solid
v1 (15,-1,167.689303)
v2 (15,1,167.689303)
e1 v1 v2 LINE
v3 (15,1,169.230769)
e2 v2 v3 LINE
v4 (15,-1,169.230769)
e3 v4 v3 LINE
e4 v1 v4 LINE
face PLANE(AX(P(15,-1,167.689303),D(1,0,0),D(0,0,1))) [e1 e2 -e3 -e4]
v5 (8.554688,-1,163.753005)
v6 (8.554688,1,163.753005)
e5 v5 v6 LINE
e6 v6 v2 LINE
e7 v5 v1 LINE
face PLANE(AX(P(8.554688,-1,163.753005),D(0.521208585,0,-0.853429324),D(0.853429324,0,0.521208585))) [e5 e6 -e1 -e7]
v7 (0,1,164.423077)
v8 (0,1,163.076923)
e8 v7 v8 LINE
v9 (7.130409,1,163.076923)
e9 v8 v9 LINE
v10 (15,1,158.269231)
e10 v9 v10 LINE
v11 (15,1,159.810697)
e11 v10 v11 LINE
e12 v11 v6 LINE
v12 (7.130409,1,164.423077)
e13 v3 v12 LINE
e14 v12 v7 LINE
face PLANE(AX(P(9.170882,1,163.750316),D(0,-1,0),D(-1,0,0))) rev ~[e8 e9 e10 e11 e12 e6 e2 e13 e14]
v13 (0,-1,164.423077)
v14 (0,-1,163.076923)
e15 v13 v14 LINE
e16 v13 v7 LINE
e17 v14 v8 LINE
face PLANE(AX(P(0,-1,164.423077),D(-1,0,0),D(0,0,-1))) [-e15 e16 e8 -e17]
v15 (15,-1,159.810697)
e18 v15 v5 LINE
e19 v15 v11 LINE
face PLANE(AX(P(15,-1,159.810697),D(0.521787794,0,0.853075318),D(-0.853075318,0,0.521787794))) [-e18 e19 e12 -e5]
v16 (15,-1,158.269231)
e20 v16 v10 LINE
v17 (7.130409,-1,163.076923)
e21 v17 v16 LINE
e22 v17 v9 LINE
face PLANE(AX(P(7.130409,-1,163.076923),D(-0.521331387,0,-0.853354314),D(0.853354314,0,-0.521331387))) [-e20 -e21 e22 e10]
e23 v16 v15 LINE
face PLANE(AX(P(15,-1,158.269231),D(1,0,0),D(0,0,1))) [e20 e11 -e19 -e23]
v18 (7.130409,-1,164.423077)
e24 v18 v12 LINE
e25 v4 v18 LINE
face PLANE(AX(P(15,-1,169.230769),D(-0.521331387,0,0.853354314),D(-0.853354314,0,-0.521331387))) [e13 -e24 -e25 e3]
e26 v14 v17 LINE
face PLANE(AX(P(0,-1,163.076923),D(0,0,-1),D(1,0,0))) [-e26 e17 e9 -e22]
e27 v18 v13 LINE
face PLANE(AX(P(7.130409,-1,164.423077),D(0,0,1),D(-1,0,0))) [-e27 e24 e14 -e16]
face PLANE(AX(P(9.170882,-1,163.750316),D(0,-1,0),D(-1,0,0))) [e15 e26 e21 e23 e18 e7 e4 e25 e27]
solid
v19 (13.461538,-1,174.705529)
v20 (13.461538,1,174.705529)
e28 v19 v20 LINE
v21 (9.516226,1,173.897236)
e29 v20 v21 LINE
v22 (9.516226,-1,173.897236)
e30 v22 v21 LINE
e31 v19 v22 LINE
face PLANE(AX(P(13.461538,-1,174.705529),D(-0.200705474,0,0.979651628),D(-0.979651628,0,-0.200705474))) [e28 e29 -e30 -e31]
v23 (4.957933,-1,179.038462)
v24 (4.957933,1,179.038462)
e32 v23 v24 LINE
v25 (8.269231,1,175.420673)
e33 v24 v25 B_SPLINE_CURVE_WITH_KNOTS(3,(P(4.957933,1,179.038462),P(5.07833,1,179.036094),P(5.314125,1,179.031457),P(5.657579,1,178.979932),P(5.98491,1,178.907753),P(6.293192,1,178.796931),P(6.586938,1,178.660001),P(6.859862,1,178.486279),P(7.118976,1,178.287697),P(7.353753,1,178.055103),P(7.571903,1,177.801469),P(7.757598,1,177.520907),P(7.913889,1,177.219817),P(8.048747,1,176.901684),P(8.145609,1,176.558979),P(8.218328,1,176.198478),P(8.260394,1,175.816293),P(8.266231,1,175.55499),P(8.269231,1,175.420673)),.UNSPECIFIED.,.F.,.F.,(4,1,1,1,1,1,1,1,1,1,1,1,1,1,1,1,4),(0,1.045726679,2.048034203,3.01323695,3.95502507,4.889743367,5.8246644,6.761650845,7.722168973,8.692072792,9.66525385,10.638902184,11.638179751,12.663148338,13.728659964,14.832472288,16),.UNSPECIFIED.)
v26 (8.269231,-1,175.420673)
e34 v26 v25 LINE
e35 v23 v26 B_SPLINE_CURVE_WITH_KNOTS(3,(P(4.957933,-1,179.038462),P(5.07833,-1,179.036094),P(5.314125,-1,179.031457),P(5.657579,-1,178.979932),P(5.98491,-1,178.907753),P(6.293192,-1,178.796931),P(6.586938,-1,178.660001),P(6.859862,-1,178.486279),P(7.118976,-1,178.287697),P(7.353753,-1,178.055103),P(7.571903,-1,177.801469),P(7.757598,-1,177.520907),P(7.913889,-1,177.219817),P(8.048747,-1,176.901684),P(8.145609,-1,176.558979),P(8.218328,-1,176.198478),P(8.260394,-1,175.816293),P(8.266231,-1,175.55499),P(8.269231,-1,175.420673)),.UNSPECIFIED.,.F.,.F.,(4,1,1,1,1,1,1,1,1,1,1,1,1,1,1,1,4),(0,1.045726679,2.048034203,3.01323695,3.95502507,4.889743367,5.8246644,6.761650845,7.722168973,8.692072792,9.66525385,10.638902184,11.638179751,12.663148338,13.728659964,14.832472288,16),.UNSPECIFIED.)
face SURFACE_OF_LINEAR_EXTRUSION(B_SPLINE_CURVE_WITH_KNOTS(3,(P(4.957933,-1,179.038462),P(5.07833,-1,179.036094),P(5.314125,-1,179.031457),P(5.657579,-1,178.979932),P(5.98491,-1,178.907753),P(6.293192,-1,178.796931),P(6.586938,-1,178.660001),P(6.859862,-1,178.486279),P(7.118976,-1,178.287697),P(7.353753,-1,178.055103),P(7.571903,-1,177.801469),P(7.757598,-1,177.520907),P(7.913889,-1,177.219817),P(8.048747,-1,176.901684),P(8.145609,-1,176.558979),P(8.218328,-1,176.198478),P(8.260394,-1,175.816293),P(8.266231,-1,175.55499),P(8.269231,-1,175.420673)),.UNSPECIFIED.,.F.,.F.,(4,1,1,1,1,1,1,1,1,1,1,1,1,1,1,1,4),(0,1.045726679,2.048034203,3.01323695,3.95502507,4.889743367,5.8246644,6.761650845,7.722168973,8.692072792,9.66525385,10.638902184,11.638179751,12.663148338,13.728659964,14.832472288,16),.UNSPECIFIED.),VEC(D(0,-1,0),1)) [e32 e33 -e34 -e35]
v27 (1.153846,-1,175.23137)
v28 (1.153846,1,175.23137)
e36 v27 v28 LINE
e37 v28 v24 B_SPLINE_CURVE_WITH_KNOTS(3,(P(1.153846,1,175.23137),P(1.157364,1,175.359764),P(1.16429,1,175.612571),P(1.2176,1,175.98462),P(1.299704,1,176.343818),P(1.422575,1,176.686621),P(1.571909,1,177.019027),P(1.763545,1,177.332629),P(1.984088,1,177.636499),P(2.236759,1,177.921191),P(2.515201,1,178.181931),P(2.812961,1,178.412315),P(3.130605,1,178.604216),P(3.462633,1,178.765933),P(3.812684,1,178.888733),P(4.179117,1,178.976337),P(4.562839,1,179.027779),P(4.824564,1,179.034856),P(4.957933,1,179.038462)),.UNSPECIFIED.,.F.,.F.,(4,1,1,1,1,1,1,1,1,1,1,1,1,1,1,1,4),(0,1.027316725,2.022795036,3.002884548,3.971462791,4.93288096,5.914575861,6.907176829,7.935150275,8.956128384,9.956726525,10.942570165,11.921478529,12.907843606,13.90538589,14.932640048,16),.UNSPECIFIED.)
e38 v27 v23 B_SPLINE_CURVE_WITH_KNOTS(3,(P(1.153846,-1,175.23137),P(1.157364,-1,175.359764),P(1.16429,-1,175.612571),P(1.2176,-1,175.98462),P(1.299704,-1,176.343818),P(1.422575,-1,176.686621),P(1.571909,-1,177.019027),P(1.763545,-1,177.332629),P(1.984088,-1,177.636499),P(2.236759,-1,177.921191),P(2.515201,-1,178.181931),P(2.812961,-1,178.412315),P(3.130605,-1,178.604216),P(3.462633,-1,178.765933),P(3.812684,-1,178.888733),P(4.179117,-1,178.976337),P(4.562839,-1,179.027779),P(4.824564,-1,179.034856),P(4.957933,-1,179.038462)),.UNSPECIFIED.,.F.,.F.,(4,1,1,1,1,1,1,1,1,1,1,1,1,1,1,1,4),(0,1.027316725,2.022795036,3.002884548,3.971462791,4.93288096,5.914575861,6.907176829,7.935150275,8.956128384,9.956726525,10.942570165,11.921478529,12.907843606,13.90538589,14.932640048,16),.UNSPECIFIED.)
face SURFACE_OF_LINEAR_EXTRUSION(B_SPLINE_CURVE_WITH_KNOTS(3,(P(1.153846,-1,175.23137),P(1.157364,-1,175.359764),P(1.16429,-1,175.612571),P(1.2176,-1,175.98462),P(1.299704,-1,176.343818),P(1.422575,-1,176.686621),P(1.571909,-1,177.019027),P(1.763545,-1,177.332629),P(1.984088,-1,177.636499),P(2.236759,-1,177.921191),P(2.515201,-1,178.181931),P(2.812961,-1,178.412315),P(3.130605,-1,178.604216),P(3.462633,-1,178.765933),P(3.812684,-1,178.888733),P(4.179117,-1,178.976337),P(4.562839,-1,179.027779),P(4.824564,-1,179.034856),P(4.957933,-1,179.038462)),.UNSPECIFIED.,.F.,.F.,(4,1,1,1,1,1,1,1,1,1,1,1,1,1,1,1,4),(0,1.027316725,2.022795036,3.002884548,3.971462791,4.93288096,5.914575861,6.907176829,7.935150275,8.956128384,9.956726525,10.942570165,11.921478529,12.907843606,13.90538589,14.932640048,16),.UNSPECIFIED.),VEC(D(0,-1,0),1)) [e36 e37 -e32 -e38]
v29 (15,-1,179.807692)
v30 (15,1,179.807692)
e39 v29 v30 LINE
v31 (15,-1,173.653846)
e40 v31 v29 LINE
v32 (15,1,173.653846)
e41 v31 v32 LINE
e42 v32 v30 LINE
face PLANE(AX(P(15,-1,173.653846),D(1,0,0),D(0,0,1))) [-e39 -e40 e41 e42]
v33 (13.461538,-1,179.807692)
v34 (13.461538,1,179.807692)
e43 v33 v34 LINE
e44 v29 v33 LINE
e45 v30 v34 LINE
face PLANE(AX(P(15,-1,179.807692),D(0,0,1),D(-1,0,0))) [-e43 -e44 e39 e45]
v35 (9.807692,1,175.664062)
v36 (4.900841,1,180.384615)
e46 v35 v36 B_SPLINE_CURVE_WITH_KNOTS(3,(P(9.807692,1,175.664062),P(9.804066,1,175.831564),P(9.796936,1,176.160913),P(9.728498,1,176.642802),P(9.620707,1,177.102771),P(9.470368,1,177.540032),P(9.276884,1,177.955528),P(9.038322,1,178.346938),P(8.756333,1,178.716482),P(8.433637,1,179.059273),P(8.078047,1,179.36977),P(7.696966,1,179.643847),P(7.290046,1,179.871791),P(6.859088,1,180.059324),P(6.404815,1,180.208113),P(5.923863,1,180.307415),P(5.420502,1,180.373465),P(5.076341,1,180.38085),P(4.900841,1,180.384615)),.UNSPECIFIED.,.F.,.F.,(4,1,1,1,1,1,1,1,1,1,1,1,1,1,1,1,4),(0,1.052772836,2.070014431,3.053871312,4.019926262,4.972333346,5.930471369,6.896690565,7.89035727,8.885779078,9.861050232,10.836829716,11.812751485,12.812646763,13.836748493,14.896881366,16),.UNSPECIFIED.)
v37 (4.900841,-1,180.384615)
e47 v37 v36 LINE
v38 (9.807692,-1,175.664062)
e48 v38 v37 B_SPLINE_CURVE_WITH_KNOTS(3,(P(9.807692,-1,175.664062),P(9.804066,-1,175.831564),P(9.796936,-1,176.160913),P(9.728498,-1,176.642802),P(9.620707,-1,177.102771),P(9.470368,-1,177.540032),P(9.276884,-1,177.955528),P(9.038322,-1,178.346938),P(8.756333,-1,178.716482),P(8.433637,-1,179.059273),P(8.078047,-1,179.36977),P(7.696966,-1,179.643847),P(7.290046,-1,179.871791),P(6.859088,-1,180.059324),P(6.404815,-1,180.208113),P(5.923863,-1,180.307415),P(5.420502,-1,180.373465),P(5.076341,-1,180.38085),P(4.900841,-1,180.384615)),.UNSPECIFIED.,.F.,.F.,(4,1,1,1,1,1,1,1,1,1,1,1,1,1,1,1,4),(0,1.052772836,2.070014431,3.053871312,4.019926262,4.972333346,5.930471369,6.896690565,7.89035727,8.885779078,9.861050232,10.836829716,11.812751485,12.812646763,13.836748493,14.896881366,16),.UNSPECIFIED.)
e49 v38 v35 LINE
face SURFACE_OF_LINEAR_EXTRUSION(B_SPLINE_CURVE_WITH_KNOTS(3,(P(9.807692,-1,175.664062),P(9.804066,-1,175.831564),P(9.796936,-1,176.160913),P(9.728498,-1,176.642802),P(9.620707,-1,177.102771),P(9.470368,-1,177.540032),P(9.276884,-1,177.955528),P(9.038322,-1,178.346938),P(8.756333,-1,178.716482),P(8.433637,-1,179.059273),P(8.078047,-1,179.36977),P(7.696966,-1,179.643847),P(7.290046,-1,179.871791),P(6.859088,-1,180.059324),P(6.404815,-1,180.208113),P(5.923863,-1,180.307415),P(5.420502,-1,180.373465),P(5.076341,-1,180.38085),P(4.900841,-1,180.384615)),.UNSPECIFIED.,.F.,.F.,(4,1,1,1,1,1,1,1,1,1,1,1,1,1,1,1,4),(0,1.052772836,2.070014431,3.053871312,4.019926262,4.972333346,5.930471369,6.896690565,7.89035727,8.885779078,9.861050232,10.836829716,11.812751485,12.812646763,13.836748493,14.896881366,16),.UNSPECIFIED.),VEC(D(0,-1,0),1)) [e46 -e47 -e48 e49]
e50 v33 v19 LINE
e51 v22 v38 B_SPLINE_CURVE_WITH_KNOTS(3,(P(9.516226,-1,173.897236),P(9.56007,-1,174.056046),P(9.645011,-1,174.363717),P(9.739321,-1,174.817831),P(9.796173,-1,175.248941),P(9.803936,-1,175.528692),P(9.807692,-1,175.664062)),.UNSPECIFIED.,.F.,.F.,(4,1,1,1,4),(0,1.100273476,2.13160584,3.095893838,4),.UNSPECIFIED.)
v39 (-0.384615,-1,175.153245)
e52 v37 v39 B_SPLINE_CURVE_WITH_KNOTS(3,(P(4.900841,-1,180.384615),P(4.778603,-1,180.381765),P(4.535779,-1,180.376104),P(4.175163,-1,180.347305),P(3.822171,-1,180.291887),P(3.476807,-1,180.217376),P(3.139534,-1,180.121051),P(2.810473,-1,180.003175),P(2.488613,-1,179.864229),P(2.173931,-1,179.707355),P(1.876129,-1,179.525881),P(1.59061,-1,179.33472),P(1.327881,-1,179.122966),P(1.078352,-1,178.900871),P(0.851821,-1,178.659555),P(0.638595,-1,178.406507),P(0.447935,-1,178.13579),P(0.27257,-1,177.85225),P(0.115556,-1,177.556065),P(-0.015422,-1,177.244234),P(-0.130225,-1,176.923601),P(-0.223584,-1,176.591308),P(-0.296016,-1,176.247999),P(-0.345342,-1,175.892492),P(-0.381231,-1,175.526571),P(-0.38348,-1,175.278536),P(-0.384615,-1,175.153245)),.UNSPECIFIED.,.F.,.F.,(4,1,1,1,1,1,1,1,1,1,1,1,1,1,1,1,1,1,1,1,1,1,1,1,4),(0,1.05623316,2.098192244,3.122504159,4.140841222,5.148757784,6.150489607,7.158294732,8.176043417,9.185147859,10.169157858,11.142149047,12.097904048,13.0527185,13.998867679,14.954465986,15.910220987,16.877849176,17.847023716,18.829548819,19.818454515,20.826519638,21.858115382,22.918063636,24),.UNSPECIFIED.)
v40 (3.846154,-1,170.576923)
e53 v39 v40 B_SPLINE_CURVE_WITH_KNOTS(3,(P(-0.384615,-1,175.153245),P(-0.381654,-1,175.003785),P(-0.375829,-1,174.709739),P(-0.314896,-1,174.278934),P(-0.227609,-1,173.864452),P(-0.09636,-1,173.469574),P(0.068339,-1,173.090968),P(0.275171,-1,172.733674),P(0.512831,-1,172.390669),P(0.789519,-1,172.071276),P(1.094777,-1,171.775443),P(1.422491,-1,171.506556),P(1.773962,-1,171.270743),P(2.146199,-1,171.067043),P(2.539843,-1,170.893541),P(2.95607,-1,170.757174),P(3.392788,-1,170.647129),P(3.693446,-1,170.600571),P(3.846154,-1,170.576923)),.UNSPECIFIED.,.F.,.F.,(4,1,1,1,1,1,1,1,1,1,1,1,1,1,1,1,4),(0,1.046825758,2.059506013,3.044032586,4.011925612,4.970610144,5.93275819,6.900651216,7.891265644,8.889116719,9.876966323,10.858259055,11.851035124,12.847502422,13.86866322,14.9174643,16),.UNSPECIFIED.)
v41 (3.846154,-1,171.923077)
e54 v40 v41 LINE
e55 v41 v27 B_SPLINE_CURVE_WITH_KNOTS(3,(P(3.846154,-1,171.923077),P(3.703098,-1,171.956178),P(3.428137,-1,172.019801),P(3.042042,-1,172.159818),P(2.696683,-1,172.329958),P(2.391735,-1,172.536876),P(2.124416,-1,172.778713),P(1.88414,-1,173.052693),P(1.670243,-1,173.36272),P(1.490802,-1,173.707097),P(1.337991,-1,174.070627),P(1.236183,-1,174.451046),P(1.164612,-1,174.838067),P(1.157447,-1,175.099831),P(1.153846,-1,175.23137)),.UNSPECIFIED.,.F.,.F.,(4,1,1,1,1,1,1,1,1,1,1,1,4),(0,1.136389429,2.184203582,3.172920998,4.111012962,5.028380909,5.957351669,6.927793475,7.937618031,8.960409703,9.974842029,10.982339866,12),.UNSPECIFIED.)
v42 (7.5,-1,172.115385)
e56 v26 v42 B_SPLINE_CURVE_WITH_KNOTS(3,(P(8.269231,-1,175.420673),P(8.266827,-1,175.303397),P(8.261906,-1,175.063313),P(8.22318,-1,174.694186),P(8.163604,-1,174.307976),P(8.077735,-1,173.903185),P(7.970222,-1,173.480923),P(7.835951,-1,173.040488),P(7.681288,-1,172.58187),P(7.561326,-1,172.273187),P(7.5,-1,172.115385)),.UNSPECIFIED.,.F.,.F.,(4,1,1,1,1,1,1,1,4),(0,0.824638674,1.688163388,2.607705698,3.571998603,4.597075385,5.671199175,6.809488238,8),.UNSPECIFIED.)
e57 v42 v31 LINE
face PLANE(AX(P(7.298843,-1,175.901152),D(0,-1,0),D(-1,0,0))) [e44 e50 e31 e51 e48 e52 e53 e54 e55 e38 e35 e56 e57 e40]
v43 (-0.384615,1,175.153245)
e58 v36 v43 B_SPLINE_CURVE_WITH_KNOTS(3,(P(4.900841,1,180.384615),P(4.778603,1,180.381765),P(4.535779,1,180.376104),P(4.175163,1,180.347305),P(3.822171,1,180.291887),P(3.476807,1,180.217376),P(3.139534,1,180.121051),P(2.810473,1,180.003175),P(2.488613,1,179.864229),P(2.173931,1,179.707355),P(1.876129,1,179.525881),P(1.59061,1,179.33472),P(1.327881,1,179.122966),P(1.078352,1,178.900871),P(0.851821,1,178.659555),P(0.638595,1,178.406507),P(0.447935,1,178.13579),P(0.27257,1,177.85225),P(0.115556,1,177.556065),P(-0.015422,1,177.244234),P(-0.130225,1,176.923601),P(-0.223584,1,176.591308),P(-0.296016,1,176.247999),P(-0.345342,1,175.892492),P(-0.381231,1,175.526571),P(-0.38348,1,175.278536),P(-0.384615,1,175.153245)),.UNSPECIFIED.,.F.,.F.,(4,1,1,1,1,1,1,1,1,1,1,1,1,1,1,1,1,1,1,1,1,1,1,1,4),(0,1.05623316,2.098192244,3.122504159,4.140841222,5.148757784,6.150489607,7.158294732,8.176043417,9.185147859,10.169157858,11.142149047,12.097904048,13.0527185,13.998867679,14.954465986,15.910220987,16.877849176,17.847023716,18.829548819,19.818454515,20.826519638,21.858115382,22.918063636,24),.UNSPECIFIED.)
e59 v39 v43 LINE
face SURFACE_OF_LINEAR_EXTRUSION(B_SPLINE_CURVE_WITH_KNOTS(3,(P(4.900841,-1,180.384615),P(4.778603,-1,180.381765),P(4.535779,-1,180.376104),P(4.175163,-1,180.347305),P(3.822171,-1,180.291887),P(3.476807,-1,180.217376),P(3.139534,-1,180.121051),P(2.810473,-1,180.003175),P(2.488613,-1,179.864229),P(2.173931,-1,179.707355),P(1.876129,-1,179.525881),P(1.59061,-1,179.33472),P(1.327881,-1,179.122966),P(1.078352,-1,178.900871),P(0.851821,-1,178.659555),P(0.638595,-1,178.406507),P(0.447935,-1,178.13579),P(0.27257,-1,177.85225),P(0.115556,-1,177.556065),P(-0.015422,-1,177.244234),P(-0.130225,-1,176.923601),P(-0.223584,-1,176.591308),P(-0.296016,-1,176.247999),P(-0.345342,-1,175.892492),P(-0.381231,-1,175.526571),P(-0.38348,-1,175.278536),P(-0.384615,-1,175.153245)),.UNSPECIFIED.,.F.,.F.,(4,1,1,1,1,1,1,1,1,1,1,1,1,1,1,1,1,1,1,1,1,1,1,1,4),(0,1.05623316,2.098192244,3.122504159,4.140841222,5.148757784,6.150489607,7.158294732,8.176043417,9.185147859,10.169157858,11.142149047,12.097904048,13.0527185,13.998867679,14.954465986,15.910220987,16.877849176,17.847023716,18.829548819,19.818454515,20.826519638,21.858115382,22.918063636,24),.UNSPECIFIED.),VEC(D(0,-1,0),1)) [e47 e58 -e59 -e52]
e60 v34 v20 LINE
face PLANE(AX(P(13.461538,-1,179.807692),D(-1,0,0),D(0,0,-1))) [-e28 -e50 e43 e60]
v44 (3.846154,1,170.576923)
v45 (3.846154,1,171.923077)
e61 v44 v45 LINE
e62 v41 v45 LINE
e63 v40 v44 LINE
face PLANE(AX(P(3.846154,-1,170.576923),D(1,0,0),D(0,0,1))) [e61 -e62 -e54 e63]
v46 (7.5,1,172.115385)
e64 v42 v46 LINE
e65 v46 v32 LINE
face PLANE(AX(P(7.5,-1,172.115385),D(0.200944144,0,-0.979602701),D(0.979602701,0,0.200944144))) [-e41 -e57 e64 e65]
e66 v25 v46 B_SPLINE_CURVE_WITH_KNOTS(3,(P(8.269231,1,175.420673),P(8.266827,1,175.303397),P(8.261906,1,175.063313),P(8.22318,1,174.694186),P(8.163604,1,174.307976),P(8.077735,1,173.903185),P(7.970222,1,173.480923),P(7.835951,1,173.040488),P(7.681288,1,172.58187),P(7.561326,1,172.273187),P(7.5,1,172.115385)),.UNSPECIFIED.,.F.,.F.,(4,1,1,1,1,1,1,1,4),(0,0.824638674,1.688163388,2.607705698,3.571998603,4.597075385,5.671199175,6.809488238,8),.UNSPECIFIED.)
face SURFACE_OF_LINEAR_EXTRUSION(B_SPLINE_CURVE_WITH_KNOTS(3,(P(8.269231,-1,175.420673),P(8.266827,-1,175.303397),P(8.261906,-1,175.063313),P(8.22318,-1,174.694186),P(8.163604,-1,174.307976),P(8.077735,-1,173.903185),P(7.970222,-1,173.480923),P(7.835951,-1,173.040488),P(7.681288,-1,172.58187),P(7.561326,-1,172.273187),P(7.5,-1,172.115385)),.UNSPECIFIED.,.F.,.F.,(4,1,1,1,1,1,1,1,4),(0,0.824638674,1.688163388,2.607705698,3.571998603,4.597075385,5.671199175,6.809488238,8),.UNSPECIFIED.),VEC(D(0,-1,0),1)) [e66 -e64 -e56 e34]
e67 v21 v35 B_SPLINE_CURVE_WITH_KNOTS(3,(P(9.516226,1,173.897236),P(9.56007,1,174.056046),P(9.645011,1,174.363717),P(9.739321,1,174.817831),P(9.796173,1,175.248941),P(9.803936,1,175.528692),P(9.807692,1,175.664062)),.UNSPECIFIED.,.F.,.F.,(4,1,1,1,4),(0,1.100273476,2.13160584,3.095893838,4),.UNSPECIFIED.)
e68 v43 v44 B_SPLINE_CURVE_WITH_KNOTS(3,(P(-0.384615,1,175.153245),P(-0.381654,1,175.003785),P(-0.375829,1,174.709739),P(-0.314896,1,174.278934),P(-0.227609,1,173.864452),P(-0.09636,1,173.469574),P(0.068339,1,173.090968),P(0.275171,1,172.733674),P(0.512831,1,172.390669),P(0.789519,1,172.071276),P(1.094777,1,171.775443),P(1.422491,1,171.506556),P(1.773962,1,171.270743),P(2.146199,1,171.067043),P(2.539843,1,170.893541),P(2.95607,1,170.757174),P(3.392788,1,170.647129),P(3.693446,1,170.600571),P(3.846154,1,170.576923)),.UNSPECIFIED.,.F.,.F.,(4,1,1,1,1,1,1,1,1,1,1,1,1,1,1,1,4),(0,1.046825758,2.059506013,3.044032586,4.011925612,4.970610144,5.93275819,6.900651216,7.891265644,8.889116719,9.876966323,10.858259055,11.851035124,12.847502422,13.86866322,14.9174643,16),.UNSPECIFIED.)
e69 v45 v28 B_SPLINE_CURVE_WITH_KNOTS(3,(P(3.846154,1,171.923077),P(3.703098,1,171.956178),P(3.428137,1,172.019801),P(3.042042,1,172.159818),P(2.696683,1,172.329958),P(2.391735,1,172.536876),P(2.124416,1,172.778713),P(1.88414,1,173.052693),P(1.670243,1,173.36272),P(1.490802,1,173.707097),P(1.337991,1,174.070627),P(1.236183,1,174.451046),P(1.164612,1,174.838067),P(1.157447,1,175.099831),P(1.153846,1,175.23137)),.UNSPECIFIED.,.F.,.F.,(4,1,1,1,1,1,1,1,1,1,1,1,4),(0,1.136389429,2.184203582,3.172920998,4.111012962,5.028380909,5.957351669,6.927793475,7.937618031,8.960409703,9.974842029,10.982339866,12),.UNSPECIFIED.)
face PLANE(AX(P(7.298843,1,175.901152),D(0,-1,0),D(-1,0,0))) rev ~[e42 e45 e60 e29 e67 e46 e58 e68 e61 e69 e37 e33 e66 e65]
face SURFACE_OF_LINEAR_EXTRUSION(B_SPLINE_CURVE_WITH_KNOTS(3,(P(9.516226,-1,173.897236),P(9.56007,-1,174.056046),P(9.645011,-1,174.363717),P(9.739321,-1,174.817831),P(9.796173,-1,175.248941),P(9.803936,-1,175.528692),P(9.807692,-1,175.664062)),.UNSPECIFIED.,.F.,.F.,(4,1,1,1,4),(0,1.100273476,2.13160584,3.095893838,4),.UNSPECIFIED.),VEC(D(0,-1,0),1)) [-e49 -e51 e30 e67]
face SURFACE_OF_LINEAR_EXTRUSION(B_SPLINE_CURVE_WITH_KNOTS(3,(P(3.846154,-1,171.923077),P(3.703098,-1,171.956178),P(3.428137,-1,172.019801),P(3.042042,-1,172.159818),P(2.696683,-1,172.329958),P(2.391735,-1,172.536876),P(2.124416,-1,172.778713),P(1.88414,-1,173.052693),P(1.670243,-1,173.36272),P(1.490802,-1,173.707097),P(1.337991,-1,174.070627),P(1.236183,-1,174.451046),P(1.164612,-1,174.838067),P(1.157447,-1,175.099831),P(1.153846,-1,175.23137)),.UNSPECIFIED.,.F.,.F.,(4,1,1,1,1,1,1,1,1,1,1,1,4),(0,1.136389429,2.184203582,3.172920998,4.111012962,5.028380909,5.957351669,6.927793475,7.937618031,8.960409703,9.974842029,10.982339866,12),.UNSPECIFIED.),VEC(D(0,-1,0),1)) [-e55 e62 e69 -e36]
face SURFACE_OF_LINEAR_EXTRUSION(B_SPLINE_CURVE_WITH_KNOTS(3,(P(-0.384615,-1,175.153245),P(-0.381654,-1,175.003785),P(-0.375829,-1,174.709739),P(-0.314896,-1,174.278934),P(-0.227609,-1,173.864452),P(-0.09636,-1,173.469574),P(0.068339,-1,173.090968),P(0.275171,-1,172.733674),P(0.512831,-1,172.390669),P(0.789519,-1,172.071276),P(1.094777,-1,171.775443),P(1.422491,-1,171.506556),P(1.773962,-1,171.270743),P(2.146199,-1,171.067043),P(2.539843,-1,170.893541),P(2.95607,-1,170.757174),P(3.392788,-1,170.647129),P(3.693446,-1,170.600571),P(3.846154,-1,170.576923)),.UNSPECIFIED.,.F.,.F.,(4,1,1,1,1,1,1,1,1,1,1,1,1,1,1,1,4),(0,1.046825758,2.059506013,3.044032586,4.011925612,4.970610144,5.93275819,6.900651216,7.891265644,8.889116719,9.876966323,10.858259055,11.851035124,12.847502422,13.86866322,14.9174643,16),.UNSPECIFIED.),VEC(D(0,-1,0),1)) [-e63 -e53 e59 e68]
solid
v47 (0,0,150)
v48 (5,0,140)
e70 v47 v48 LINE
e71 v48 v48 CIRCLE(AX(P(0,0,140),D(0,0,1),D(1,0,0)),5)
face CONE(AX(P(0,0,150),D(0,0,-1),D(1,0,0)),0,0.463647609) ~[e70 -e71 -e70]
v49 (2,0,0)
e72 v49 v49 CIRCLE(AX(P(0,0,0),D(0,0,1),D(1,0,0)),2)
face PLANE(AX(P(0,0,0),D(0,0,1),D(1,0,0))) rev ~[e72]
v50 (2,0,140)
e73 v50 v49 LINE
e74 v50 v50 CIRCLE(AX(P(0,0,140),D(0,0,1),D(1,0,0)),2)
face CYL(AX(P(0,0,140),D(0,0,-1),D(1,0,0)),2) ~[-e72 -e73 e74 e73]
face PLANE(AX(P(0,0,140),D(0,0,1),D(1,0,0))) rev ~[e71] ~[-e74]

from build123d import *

# Parameters (mm, degrees)
BOSS_EXTRUDE1_DEPTH        = 1
BOSS_EXTRUDE1_DEPTH_BACK   = 1
BOSS_EXTRUDE1_2_DEPTH      = 1
BOSS_EXTRUDE1_2_DEPTH_BACK = 1


with BuildPart() as part:
    # Sketch2 → Revolve1 (revolve)
    with BuildSketch(Plane(origin=(0, 0, 0), x_dir=(1, 0, 0), z_dir=(0, 1, 0))):
        Polygon((0, -150), (5, -140), (2, -140), (2, 0), (0, 0), align=None)
    revolve(axis=Axis((0, 0, -41.949952025), (0, 0, 1)))


with BuildPart() as body_2:
    # Sketch3 → Boss-Extrude1 (new, two sides: drawn at the far end of the back side and taken through both)
    with BuildSketch(Plane(origin=(0, 0, 0), x_dir=(1, 0, 0), z_dir=(0, 1, 0)).offset(-BOSS_EXTRUDE1_DEPTH_BACK)):
        Polygon((15, -158.269230769), (15, -159.810697115), (8.5546875, -163.753004808), (15, -167.689302885), (15, -169.230769231), (7.130408654, -164.423076923), (0, -164.423076923), (0, -163.076923077), (7.130408654, -163.076923077), align=None)
    extrude(amount=BOSS_EXTRUDE1_DEPTH + BOSS_EXTRUDE1_DEPTH_BACK)


with BuildPart() as body_3:
    # Sketch3 → Boss-Extrude1 2 (new, two sides: drawn at the far end of the back side and taken through both)
    with BuildSketch(Plane(origin=(0, 0, 0), x_dir=(1, 0, 0), z_dir=(0, 1, 0)).offset(-BOSS_EXTRUDE1_2_DEPTH_BACK)):
        with BuildLine():
            Line((15, -179.807692308), (13.461538462, -179.807692308))
            Line((13.461538462, -179.807692308), (13.461538462, -174.705528846))
            Line((13.461538462, -174.705528846), (9.516225962, -173.897235577))
            add(Edge.make_bspline(
                [(9.516225962, -173.897235577), (9.560069984, -174.056046467), (9.645010842, -174.363717449), (9.739321287, -174.817831139), (9.79617319, -175.248940583), (9.803935949, -175.52869217), (9.807692308, -175.6640625)],
                knots=[0, 0, 0, 0, 1.100273476, 2.13160584, 3.095893838, 4, 4, 4, 4], degree=3))
            add(Edge.make_bspline(
                [(9.807692308, -175.6640625), (9.80406592, -175.831563664), (9.796935536, -176.160912801), (9.728498237, -176.642802217), (9.620706778, -177.102770502), (9.470367987, -177.540031781), (9.27688397, -177.955527868), (9.038322224, -178.346938443), (8.756332859, -178.71648177), (8.433636595, -179.059272633), (8.078046752, -179.36977016), (7.69696552, -179.643847295), (7.29004627, -179.87179102), (6.859088372, -180.059323742), (6.40481492, -180.208112848), (5.923863394, -180.30741536), (5.420501794, -180.373464937), (5.07634109, -180.380849655), (4.900841346, -180.384615385)],
                knots=[0, 0, 0, 0, 1.052772836, 2.070014431, 3.053871312, 4.019926262, 4.972333346, 5.930471369, 6.896690565, 7.89035727, 8.885779078, 9.861050232, 10.836829716, 11.812751485, 12.812646763, 13.836748493, 14.896881366, 16, 16, 16, 16], degree=3))
            add(Edge.make_bspline(
                [(4.900841346, -180.384615385), (4.778603099, -180.381765446), (4.535778548, -180.376104083), (4.175162896, -180.347304507), (3.82217058, -180.291886664), (3.476806888, -180.217376289), (3.139533541, -180.121050596), (2.810473221, -180.00317501), (2.488612692, -179.864228754), (2.173930875, -179.707355138), (1.876128909, -179.525881439), (1.590609774, -179.334720075), (1.327881174, -179.1229659), (1.078351765, -178.900871002), (0.851820957, -178.659554718), (0.638594518, -178.406507121), (0.447934566, -178.135789814), (0.272570453, -177.852249643), (0.115556237, -177.556065406), (-0.015421666, -177.244233857), (-0.130224929, -176.923600511), (-0.223583551, -176.591307598), (-0.296016348, -176.247998871), (-0.3453421, -175.89249212), (-0.381230877, -175.526571213), (-0.383479521, -175.278535958), (-0.384615385, -175.153245192)],
                knots=[0, 0, 0, 0, 1.05623316, 2.098192244, 3.122504159, 4.140841222, 5.148757784, 6.150489607, 7.158294732, 8.176043417, 9.185147859, 10.169157858, 11.142149047, 12.097904048, 13.0527185, 13.998867679, 14.954465986, 15.910220987, 16.877849176, 17.847023716, 18.829548819, 19.818454515, 20.826519638, 21.858115382, 22.918063636, 24, 24, 24, 24], degree=3))
            add(Edge.make_bspline(
                [(-0.384615385, -175.153245192), (-0.381654391, -175.003784601), (-0.375828986, -174.709738543), (-0.314896318, -174.278933505), (-0.227608888, -173.864451862), (-0.096359784, -173.46957387), (0.068338734, -173.090967937), (0.275171288, -172.733674031), (0.512831306, -172.390669376), (0.789518858, -172.071276433), (1.094777245, -171.775442729), (1.4224906, -171.506555591), (1.773961963, -171.27074318), (2.146199136, -171.067043165), (2.539842613, -170.893540967), (2.956070317, -170.757174261), (3.392788381, -170.64712876), (3.693445765, -170.600570611), (3.846153846, -170.576923077)],
                knots=[0, 0, 0, 0, 1.046825758, 2.059506013, 3.044032586, 4.011925612, 4.970610144, 5.93275819, 6.900651216, 7.891265644, 8.889116719, 9.876966323, 10.858259055, 11.851035124, 12.847502422, 13.86866322, 14.9174643, 16, 16, 16, 16], degree=3))
            Line((3.846153846, -170.576923077), (3.846153846, -171.923076923))
            add(Edge.make_bspline(
                [(3.846153846, -171.923076923), (3.703098259, -171.956178466), (3.428137478, -172.01980147), (3.04204192, -172.159817802), (2.69668325, -172.329958206), (2.391735429, -172.53687613), (2.12441618, -172.778712967), (1.88413982, -173.052693328), (1.670243081, -173.362720419), (1.490802042, -173.707096607), (1.337990992, -174.070626836), (1.236183362, -174.451045596), (1.164611935, -174.838067395), (1.157446733, -175.099831414), (1.153846154, -175.231370192)],
                knots=[0, 0, 0, 0, 1.136389429, 2.184203582, 3.172920998, 4.111012962, 5.028380909, 5.957351669, 6.927793475, 7.937618031, 8.960409703, 9.974842029, 10.982339866, 12, 12, 12, 12], degree=3))
            add(Edge.make_bspline(
                [(1.153846154, -175.231370192), (1.157363773, -175.359763526), (1.164289995, -175.612571049), (1.217600047, -175.984619849), (1.299703924, -176.343817882), (1.422574731, -176.686620839), (1.571909239, -177.019027437), (1.763545278, -177.332629311), (1.984088214, -177.636498784), (2.236759486, -177.921190785), (2.515201034, -178.181931282), (2.812961292, -178.412314658), (3.13060492, -178.604215716), (3.462632718, -178.765933325), (3.812683677, -178.888733177), (4.179117285, -178.976337382), (4.562838629, -179.027779063), (4.824564242, -179.034855549), (4.957932692, -179.038461538)],
                knots=[0, 0, 0, 0, 1.027316725, 2.022795036, 3.002884548, 3.971462791, 4.93288096, 5.914575861, 6.907176829, 7.935150275, 8.956128384, 9.956726525, 10.942570165, 11.921478529, 12.907843606, 13.90538589, 14.932640048, 16, 16, 16, 16], degree=3))
            add(Edge.make_bspline(
                [(4.957932692, -179.038461538), (5.078329844, -179.036094025), (5.314125191, -179.031457297), (5.657578768, -178.979931878), (5.984910027, -178.90775276), (6.29319175, -178.796930932), (6.58693828, -178.660001159), (6.859862365, -178.486279367), (7.118975898, -178.287697464), (7.353752503, -178.055103129), (7.571902904, -177.801468893), (7.757597535, -177.52090705), (7.913889203, -177.219816997), (8.048747155, -176.901683536), (8.14560886, -176.558978672), (8.218327983, -176.198478299), (8.260393931, -175.816292553), (8.26623058, -175.554989583), (8.269230769, -175.420673077)],
                knots=[0, 0, 0, 0, 1.045726679, 2.048034203, 3.01323695, 3.95502507, 4.889743367, 5.8246644, 6.761650845, 7.722168973, 8.692072792, 9.66525385, 10.638902184, 11.638179751, 12.663148338, 13.728659964, 14.832472288, 16, 16, 16, 16], degree=3))
            add(Edge.make_bspline(
                [(8.269230769, -175.420673077), (8.266827016, -175.30339655), (8.26190616, -175.063313293), (8.223180046, -174.694185696), (8.163603645, -174.307975981), (8.07773504, -173.903184759), (7.970221633, -173.480922911), (7.835950868, -173.040488208), (7.68128788, -172.581870009), (7.561325997, -172.273187122), (7.5, -172.115384615)],
                knots=[0, 0, 0, 0, 0.824638674, 1.688163388, 2.607705698, 3.571998603, 4.597075385, 5.671199175, 6.809488238, 8, 8, 8, 8], degree=3))
            Line((7.5, -172.115384615), (15, -173.653846154))
            Line((15, -173.653846154), (15, -179.807692308))
        make_face()
    extrude(amount=BOSS_EXTRUDE1_2_DEPTH + BOSS_EXTRUDE1_2_DEPTH_BACK)


solid = Compound([part.part, body_2.part, body_3.part])
